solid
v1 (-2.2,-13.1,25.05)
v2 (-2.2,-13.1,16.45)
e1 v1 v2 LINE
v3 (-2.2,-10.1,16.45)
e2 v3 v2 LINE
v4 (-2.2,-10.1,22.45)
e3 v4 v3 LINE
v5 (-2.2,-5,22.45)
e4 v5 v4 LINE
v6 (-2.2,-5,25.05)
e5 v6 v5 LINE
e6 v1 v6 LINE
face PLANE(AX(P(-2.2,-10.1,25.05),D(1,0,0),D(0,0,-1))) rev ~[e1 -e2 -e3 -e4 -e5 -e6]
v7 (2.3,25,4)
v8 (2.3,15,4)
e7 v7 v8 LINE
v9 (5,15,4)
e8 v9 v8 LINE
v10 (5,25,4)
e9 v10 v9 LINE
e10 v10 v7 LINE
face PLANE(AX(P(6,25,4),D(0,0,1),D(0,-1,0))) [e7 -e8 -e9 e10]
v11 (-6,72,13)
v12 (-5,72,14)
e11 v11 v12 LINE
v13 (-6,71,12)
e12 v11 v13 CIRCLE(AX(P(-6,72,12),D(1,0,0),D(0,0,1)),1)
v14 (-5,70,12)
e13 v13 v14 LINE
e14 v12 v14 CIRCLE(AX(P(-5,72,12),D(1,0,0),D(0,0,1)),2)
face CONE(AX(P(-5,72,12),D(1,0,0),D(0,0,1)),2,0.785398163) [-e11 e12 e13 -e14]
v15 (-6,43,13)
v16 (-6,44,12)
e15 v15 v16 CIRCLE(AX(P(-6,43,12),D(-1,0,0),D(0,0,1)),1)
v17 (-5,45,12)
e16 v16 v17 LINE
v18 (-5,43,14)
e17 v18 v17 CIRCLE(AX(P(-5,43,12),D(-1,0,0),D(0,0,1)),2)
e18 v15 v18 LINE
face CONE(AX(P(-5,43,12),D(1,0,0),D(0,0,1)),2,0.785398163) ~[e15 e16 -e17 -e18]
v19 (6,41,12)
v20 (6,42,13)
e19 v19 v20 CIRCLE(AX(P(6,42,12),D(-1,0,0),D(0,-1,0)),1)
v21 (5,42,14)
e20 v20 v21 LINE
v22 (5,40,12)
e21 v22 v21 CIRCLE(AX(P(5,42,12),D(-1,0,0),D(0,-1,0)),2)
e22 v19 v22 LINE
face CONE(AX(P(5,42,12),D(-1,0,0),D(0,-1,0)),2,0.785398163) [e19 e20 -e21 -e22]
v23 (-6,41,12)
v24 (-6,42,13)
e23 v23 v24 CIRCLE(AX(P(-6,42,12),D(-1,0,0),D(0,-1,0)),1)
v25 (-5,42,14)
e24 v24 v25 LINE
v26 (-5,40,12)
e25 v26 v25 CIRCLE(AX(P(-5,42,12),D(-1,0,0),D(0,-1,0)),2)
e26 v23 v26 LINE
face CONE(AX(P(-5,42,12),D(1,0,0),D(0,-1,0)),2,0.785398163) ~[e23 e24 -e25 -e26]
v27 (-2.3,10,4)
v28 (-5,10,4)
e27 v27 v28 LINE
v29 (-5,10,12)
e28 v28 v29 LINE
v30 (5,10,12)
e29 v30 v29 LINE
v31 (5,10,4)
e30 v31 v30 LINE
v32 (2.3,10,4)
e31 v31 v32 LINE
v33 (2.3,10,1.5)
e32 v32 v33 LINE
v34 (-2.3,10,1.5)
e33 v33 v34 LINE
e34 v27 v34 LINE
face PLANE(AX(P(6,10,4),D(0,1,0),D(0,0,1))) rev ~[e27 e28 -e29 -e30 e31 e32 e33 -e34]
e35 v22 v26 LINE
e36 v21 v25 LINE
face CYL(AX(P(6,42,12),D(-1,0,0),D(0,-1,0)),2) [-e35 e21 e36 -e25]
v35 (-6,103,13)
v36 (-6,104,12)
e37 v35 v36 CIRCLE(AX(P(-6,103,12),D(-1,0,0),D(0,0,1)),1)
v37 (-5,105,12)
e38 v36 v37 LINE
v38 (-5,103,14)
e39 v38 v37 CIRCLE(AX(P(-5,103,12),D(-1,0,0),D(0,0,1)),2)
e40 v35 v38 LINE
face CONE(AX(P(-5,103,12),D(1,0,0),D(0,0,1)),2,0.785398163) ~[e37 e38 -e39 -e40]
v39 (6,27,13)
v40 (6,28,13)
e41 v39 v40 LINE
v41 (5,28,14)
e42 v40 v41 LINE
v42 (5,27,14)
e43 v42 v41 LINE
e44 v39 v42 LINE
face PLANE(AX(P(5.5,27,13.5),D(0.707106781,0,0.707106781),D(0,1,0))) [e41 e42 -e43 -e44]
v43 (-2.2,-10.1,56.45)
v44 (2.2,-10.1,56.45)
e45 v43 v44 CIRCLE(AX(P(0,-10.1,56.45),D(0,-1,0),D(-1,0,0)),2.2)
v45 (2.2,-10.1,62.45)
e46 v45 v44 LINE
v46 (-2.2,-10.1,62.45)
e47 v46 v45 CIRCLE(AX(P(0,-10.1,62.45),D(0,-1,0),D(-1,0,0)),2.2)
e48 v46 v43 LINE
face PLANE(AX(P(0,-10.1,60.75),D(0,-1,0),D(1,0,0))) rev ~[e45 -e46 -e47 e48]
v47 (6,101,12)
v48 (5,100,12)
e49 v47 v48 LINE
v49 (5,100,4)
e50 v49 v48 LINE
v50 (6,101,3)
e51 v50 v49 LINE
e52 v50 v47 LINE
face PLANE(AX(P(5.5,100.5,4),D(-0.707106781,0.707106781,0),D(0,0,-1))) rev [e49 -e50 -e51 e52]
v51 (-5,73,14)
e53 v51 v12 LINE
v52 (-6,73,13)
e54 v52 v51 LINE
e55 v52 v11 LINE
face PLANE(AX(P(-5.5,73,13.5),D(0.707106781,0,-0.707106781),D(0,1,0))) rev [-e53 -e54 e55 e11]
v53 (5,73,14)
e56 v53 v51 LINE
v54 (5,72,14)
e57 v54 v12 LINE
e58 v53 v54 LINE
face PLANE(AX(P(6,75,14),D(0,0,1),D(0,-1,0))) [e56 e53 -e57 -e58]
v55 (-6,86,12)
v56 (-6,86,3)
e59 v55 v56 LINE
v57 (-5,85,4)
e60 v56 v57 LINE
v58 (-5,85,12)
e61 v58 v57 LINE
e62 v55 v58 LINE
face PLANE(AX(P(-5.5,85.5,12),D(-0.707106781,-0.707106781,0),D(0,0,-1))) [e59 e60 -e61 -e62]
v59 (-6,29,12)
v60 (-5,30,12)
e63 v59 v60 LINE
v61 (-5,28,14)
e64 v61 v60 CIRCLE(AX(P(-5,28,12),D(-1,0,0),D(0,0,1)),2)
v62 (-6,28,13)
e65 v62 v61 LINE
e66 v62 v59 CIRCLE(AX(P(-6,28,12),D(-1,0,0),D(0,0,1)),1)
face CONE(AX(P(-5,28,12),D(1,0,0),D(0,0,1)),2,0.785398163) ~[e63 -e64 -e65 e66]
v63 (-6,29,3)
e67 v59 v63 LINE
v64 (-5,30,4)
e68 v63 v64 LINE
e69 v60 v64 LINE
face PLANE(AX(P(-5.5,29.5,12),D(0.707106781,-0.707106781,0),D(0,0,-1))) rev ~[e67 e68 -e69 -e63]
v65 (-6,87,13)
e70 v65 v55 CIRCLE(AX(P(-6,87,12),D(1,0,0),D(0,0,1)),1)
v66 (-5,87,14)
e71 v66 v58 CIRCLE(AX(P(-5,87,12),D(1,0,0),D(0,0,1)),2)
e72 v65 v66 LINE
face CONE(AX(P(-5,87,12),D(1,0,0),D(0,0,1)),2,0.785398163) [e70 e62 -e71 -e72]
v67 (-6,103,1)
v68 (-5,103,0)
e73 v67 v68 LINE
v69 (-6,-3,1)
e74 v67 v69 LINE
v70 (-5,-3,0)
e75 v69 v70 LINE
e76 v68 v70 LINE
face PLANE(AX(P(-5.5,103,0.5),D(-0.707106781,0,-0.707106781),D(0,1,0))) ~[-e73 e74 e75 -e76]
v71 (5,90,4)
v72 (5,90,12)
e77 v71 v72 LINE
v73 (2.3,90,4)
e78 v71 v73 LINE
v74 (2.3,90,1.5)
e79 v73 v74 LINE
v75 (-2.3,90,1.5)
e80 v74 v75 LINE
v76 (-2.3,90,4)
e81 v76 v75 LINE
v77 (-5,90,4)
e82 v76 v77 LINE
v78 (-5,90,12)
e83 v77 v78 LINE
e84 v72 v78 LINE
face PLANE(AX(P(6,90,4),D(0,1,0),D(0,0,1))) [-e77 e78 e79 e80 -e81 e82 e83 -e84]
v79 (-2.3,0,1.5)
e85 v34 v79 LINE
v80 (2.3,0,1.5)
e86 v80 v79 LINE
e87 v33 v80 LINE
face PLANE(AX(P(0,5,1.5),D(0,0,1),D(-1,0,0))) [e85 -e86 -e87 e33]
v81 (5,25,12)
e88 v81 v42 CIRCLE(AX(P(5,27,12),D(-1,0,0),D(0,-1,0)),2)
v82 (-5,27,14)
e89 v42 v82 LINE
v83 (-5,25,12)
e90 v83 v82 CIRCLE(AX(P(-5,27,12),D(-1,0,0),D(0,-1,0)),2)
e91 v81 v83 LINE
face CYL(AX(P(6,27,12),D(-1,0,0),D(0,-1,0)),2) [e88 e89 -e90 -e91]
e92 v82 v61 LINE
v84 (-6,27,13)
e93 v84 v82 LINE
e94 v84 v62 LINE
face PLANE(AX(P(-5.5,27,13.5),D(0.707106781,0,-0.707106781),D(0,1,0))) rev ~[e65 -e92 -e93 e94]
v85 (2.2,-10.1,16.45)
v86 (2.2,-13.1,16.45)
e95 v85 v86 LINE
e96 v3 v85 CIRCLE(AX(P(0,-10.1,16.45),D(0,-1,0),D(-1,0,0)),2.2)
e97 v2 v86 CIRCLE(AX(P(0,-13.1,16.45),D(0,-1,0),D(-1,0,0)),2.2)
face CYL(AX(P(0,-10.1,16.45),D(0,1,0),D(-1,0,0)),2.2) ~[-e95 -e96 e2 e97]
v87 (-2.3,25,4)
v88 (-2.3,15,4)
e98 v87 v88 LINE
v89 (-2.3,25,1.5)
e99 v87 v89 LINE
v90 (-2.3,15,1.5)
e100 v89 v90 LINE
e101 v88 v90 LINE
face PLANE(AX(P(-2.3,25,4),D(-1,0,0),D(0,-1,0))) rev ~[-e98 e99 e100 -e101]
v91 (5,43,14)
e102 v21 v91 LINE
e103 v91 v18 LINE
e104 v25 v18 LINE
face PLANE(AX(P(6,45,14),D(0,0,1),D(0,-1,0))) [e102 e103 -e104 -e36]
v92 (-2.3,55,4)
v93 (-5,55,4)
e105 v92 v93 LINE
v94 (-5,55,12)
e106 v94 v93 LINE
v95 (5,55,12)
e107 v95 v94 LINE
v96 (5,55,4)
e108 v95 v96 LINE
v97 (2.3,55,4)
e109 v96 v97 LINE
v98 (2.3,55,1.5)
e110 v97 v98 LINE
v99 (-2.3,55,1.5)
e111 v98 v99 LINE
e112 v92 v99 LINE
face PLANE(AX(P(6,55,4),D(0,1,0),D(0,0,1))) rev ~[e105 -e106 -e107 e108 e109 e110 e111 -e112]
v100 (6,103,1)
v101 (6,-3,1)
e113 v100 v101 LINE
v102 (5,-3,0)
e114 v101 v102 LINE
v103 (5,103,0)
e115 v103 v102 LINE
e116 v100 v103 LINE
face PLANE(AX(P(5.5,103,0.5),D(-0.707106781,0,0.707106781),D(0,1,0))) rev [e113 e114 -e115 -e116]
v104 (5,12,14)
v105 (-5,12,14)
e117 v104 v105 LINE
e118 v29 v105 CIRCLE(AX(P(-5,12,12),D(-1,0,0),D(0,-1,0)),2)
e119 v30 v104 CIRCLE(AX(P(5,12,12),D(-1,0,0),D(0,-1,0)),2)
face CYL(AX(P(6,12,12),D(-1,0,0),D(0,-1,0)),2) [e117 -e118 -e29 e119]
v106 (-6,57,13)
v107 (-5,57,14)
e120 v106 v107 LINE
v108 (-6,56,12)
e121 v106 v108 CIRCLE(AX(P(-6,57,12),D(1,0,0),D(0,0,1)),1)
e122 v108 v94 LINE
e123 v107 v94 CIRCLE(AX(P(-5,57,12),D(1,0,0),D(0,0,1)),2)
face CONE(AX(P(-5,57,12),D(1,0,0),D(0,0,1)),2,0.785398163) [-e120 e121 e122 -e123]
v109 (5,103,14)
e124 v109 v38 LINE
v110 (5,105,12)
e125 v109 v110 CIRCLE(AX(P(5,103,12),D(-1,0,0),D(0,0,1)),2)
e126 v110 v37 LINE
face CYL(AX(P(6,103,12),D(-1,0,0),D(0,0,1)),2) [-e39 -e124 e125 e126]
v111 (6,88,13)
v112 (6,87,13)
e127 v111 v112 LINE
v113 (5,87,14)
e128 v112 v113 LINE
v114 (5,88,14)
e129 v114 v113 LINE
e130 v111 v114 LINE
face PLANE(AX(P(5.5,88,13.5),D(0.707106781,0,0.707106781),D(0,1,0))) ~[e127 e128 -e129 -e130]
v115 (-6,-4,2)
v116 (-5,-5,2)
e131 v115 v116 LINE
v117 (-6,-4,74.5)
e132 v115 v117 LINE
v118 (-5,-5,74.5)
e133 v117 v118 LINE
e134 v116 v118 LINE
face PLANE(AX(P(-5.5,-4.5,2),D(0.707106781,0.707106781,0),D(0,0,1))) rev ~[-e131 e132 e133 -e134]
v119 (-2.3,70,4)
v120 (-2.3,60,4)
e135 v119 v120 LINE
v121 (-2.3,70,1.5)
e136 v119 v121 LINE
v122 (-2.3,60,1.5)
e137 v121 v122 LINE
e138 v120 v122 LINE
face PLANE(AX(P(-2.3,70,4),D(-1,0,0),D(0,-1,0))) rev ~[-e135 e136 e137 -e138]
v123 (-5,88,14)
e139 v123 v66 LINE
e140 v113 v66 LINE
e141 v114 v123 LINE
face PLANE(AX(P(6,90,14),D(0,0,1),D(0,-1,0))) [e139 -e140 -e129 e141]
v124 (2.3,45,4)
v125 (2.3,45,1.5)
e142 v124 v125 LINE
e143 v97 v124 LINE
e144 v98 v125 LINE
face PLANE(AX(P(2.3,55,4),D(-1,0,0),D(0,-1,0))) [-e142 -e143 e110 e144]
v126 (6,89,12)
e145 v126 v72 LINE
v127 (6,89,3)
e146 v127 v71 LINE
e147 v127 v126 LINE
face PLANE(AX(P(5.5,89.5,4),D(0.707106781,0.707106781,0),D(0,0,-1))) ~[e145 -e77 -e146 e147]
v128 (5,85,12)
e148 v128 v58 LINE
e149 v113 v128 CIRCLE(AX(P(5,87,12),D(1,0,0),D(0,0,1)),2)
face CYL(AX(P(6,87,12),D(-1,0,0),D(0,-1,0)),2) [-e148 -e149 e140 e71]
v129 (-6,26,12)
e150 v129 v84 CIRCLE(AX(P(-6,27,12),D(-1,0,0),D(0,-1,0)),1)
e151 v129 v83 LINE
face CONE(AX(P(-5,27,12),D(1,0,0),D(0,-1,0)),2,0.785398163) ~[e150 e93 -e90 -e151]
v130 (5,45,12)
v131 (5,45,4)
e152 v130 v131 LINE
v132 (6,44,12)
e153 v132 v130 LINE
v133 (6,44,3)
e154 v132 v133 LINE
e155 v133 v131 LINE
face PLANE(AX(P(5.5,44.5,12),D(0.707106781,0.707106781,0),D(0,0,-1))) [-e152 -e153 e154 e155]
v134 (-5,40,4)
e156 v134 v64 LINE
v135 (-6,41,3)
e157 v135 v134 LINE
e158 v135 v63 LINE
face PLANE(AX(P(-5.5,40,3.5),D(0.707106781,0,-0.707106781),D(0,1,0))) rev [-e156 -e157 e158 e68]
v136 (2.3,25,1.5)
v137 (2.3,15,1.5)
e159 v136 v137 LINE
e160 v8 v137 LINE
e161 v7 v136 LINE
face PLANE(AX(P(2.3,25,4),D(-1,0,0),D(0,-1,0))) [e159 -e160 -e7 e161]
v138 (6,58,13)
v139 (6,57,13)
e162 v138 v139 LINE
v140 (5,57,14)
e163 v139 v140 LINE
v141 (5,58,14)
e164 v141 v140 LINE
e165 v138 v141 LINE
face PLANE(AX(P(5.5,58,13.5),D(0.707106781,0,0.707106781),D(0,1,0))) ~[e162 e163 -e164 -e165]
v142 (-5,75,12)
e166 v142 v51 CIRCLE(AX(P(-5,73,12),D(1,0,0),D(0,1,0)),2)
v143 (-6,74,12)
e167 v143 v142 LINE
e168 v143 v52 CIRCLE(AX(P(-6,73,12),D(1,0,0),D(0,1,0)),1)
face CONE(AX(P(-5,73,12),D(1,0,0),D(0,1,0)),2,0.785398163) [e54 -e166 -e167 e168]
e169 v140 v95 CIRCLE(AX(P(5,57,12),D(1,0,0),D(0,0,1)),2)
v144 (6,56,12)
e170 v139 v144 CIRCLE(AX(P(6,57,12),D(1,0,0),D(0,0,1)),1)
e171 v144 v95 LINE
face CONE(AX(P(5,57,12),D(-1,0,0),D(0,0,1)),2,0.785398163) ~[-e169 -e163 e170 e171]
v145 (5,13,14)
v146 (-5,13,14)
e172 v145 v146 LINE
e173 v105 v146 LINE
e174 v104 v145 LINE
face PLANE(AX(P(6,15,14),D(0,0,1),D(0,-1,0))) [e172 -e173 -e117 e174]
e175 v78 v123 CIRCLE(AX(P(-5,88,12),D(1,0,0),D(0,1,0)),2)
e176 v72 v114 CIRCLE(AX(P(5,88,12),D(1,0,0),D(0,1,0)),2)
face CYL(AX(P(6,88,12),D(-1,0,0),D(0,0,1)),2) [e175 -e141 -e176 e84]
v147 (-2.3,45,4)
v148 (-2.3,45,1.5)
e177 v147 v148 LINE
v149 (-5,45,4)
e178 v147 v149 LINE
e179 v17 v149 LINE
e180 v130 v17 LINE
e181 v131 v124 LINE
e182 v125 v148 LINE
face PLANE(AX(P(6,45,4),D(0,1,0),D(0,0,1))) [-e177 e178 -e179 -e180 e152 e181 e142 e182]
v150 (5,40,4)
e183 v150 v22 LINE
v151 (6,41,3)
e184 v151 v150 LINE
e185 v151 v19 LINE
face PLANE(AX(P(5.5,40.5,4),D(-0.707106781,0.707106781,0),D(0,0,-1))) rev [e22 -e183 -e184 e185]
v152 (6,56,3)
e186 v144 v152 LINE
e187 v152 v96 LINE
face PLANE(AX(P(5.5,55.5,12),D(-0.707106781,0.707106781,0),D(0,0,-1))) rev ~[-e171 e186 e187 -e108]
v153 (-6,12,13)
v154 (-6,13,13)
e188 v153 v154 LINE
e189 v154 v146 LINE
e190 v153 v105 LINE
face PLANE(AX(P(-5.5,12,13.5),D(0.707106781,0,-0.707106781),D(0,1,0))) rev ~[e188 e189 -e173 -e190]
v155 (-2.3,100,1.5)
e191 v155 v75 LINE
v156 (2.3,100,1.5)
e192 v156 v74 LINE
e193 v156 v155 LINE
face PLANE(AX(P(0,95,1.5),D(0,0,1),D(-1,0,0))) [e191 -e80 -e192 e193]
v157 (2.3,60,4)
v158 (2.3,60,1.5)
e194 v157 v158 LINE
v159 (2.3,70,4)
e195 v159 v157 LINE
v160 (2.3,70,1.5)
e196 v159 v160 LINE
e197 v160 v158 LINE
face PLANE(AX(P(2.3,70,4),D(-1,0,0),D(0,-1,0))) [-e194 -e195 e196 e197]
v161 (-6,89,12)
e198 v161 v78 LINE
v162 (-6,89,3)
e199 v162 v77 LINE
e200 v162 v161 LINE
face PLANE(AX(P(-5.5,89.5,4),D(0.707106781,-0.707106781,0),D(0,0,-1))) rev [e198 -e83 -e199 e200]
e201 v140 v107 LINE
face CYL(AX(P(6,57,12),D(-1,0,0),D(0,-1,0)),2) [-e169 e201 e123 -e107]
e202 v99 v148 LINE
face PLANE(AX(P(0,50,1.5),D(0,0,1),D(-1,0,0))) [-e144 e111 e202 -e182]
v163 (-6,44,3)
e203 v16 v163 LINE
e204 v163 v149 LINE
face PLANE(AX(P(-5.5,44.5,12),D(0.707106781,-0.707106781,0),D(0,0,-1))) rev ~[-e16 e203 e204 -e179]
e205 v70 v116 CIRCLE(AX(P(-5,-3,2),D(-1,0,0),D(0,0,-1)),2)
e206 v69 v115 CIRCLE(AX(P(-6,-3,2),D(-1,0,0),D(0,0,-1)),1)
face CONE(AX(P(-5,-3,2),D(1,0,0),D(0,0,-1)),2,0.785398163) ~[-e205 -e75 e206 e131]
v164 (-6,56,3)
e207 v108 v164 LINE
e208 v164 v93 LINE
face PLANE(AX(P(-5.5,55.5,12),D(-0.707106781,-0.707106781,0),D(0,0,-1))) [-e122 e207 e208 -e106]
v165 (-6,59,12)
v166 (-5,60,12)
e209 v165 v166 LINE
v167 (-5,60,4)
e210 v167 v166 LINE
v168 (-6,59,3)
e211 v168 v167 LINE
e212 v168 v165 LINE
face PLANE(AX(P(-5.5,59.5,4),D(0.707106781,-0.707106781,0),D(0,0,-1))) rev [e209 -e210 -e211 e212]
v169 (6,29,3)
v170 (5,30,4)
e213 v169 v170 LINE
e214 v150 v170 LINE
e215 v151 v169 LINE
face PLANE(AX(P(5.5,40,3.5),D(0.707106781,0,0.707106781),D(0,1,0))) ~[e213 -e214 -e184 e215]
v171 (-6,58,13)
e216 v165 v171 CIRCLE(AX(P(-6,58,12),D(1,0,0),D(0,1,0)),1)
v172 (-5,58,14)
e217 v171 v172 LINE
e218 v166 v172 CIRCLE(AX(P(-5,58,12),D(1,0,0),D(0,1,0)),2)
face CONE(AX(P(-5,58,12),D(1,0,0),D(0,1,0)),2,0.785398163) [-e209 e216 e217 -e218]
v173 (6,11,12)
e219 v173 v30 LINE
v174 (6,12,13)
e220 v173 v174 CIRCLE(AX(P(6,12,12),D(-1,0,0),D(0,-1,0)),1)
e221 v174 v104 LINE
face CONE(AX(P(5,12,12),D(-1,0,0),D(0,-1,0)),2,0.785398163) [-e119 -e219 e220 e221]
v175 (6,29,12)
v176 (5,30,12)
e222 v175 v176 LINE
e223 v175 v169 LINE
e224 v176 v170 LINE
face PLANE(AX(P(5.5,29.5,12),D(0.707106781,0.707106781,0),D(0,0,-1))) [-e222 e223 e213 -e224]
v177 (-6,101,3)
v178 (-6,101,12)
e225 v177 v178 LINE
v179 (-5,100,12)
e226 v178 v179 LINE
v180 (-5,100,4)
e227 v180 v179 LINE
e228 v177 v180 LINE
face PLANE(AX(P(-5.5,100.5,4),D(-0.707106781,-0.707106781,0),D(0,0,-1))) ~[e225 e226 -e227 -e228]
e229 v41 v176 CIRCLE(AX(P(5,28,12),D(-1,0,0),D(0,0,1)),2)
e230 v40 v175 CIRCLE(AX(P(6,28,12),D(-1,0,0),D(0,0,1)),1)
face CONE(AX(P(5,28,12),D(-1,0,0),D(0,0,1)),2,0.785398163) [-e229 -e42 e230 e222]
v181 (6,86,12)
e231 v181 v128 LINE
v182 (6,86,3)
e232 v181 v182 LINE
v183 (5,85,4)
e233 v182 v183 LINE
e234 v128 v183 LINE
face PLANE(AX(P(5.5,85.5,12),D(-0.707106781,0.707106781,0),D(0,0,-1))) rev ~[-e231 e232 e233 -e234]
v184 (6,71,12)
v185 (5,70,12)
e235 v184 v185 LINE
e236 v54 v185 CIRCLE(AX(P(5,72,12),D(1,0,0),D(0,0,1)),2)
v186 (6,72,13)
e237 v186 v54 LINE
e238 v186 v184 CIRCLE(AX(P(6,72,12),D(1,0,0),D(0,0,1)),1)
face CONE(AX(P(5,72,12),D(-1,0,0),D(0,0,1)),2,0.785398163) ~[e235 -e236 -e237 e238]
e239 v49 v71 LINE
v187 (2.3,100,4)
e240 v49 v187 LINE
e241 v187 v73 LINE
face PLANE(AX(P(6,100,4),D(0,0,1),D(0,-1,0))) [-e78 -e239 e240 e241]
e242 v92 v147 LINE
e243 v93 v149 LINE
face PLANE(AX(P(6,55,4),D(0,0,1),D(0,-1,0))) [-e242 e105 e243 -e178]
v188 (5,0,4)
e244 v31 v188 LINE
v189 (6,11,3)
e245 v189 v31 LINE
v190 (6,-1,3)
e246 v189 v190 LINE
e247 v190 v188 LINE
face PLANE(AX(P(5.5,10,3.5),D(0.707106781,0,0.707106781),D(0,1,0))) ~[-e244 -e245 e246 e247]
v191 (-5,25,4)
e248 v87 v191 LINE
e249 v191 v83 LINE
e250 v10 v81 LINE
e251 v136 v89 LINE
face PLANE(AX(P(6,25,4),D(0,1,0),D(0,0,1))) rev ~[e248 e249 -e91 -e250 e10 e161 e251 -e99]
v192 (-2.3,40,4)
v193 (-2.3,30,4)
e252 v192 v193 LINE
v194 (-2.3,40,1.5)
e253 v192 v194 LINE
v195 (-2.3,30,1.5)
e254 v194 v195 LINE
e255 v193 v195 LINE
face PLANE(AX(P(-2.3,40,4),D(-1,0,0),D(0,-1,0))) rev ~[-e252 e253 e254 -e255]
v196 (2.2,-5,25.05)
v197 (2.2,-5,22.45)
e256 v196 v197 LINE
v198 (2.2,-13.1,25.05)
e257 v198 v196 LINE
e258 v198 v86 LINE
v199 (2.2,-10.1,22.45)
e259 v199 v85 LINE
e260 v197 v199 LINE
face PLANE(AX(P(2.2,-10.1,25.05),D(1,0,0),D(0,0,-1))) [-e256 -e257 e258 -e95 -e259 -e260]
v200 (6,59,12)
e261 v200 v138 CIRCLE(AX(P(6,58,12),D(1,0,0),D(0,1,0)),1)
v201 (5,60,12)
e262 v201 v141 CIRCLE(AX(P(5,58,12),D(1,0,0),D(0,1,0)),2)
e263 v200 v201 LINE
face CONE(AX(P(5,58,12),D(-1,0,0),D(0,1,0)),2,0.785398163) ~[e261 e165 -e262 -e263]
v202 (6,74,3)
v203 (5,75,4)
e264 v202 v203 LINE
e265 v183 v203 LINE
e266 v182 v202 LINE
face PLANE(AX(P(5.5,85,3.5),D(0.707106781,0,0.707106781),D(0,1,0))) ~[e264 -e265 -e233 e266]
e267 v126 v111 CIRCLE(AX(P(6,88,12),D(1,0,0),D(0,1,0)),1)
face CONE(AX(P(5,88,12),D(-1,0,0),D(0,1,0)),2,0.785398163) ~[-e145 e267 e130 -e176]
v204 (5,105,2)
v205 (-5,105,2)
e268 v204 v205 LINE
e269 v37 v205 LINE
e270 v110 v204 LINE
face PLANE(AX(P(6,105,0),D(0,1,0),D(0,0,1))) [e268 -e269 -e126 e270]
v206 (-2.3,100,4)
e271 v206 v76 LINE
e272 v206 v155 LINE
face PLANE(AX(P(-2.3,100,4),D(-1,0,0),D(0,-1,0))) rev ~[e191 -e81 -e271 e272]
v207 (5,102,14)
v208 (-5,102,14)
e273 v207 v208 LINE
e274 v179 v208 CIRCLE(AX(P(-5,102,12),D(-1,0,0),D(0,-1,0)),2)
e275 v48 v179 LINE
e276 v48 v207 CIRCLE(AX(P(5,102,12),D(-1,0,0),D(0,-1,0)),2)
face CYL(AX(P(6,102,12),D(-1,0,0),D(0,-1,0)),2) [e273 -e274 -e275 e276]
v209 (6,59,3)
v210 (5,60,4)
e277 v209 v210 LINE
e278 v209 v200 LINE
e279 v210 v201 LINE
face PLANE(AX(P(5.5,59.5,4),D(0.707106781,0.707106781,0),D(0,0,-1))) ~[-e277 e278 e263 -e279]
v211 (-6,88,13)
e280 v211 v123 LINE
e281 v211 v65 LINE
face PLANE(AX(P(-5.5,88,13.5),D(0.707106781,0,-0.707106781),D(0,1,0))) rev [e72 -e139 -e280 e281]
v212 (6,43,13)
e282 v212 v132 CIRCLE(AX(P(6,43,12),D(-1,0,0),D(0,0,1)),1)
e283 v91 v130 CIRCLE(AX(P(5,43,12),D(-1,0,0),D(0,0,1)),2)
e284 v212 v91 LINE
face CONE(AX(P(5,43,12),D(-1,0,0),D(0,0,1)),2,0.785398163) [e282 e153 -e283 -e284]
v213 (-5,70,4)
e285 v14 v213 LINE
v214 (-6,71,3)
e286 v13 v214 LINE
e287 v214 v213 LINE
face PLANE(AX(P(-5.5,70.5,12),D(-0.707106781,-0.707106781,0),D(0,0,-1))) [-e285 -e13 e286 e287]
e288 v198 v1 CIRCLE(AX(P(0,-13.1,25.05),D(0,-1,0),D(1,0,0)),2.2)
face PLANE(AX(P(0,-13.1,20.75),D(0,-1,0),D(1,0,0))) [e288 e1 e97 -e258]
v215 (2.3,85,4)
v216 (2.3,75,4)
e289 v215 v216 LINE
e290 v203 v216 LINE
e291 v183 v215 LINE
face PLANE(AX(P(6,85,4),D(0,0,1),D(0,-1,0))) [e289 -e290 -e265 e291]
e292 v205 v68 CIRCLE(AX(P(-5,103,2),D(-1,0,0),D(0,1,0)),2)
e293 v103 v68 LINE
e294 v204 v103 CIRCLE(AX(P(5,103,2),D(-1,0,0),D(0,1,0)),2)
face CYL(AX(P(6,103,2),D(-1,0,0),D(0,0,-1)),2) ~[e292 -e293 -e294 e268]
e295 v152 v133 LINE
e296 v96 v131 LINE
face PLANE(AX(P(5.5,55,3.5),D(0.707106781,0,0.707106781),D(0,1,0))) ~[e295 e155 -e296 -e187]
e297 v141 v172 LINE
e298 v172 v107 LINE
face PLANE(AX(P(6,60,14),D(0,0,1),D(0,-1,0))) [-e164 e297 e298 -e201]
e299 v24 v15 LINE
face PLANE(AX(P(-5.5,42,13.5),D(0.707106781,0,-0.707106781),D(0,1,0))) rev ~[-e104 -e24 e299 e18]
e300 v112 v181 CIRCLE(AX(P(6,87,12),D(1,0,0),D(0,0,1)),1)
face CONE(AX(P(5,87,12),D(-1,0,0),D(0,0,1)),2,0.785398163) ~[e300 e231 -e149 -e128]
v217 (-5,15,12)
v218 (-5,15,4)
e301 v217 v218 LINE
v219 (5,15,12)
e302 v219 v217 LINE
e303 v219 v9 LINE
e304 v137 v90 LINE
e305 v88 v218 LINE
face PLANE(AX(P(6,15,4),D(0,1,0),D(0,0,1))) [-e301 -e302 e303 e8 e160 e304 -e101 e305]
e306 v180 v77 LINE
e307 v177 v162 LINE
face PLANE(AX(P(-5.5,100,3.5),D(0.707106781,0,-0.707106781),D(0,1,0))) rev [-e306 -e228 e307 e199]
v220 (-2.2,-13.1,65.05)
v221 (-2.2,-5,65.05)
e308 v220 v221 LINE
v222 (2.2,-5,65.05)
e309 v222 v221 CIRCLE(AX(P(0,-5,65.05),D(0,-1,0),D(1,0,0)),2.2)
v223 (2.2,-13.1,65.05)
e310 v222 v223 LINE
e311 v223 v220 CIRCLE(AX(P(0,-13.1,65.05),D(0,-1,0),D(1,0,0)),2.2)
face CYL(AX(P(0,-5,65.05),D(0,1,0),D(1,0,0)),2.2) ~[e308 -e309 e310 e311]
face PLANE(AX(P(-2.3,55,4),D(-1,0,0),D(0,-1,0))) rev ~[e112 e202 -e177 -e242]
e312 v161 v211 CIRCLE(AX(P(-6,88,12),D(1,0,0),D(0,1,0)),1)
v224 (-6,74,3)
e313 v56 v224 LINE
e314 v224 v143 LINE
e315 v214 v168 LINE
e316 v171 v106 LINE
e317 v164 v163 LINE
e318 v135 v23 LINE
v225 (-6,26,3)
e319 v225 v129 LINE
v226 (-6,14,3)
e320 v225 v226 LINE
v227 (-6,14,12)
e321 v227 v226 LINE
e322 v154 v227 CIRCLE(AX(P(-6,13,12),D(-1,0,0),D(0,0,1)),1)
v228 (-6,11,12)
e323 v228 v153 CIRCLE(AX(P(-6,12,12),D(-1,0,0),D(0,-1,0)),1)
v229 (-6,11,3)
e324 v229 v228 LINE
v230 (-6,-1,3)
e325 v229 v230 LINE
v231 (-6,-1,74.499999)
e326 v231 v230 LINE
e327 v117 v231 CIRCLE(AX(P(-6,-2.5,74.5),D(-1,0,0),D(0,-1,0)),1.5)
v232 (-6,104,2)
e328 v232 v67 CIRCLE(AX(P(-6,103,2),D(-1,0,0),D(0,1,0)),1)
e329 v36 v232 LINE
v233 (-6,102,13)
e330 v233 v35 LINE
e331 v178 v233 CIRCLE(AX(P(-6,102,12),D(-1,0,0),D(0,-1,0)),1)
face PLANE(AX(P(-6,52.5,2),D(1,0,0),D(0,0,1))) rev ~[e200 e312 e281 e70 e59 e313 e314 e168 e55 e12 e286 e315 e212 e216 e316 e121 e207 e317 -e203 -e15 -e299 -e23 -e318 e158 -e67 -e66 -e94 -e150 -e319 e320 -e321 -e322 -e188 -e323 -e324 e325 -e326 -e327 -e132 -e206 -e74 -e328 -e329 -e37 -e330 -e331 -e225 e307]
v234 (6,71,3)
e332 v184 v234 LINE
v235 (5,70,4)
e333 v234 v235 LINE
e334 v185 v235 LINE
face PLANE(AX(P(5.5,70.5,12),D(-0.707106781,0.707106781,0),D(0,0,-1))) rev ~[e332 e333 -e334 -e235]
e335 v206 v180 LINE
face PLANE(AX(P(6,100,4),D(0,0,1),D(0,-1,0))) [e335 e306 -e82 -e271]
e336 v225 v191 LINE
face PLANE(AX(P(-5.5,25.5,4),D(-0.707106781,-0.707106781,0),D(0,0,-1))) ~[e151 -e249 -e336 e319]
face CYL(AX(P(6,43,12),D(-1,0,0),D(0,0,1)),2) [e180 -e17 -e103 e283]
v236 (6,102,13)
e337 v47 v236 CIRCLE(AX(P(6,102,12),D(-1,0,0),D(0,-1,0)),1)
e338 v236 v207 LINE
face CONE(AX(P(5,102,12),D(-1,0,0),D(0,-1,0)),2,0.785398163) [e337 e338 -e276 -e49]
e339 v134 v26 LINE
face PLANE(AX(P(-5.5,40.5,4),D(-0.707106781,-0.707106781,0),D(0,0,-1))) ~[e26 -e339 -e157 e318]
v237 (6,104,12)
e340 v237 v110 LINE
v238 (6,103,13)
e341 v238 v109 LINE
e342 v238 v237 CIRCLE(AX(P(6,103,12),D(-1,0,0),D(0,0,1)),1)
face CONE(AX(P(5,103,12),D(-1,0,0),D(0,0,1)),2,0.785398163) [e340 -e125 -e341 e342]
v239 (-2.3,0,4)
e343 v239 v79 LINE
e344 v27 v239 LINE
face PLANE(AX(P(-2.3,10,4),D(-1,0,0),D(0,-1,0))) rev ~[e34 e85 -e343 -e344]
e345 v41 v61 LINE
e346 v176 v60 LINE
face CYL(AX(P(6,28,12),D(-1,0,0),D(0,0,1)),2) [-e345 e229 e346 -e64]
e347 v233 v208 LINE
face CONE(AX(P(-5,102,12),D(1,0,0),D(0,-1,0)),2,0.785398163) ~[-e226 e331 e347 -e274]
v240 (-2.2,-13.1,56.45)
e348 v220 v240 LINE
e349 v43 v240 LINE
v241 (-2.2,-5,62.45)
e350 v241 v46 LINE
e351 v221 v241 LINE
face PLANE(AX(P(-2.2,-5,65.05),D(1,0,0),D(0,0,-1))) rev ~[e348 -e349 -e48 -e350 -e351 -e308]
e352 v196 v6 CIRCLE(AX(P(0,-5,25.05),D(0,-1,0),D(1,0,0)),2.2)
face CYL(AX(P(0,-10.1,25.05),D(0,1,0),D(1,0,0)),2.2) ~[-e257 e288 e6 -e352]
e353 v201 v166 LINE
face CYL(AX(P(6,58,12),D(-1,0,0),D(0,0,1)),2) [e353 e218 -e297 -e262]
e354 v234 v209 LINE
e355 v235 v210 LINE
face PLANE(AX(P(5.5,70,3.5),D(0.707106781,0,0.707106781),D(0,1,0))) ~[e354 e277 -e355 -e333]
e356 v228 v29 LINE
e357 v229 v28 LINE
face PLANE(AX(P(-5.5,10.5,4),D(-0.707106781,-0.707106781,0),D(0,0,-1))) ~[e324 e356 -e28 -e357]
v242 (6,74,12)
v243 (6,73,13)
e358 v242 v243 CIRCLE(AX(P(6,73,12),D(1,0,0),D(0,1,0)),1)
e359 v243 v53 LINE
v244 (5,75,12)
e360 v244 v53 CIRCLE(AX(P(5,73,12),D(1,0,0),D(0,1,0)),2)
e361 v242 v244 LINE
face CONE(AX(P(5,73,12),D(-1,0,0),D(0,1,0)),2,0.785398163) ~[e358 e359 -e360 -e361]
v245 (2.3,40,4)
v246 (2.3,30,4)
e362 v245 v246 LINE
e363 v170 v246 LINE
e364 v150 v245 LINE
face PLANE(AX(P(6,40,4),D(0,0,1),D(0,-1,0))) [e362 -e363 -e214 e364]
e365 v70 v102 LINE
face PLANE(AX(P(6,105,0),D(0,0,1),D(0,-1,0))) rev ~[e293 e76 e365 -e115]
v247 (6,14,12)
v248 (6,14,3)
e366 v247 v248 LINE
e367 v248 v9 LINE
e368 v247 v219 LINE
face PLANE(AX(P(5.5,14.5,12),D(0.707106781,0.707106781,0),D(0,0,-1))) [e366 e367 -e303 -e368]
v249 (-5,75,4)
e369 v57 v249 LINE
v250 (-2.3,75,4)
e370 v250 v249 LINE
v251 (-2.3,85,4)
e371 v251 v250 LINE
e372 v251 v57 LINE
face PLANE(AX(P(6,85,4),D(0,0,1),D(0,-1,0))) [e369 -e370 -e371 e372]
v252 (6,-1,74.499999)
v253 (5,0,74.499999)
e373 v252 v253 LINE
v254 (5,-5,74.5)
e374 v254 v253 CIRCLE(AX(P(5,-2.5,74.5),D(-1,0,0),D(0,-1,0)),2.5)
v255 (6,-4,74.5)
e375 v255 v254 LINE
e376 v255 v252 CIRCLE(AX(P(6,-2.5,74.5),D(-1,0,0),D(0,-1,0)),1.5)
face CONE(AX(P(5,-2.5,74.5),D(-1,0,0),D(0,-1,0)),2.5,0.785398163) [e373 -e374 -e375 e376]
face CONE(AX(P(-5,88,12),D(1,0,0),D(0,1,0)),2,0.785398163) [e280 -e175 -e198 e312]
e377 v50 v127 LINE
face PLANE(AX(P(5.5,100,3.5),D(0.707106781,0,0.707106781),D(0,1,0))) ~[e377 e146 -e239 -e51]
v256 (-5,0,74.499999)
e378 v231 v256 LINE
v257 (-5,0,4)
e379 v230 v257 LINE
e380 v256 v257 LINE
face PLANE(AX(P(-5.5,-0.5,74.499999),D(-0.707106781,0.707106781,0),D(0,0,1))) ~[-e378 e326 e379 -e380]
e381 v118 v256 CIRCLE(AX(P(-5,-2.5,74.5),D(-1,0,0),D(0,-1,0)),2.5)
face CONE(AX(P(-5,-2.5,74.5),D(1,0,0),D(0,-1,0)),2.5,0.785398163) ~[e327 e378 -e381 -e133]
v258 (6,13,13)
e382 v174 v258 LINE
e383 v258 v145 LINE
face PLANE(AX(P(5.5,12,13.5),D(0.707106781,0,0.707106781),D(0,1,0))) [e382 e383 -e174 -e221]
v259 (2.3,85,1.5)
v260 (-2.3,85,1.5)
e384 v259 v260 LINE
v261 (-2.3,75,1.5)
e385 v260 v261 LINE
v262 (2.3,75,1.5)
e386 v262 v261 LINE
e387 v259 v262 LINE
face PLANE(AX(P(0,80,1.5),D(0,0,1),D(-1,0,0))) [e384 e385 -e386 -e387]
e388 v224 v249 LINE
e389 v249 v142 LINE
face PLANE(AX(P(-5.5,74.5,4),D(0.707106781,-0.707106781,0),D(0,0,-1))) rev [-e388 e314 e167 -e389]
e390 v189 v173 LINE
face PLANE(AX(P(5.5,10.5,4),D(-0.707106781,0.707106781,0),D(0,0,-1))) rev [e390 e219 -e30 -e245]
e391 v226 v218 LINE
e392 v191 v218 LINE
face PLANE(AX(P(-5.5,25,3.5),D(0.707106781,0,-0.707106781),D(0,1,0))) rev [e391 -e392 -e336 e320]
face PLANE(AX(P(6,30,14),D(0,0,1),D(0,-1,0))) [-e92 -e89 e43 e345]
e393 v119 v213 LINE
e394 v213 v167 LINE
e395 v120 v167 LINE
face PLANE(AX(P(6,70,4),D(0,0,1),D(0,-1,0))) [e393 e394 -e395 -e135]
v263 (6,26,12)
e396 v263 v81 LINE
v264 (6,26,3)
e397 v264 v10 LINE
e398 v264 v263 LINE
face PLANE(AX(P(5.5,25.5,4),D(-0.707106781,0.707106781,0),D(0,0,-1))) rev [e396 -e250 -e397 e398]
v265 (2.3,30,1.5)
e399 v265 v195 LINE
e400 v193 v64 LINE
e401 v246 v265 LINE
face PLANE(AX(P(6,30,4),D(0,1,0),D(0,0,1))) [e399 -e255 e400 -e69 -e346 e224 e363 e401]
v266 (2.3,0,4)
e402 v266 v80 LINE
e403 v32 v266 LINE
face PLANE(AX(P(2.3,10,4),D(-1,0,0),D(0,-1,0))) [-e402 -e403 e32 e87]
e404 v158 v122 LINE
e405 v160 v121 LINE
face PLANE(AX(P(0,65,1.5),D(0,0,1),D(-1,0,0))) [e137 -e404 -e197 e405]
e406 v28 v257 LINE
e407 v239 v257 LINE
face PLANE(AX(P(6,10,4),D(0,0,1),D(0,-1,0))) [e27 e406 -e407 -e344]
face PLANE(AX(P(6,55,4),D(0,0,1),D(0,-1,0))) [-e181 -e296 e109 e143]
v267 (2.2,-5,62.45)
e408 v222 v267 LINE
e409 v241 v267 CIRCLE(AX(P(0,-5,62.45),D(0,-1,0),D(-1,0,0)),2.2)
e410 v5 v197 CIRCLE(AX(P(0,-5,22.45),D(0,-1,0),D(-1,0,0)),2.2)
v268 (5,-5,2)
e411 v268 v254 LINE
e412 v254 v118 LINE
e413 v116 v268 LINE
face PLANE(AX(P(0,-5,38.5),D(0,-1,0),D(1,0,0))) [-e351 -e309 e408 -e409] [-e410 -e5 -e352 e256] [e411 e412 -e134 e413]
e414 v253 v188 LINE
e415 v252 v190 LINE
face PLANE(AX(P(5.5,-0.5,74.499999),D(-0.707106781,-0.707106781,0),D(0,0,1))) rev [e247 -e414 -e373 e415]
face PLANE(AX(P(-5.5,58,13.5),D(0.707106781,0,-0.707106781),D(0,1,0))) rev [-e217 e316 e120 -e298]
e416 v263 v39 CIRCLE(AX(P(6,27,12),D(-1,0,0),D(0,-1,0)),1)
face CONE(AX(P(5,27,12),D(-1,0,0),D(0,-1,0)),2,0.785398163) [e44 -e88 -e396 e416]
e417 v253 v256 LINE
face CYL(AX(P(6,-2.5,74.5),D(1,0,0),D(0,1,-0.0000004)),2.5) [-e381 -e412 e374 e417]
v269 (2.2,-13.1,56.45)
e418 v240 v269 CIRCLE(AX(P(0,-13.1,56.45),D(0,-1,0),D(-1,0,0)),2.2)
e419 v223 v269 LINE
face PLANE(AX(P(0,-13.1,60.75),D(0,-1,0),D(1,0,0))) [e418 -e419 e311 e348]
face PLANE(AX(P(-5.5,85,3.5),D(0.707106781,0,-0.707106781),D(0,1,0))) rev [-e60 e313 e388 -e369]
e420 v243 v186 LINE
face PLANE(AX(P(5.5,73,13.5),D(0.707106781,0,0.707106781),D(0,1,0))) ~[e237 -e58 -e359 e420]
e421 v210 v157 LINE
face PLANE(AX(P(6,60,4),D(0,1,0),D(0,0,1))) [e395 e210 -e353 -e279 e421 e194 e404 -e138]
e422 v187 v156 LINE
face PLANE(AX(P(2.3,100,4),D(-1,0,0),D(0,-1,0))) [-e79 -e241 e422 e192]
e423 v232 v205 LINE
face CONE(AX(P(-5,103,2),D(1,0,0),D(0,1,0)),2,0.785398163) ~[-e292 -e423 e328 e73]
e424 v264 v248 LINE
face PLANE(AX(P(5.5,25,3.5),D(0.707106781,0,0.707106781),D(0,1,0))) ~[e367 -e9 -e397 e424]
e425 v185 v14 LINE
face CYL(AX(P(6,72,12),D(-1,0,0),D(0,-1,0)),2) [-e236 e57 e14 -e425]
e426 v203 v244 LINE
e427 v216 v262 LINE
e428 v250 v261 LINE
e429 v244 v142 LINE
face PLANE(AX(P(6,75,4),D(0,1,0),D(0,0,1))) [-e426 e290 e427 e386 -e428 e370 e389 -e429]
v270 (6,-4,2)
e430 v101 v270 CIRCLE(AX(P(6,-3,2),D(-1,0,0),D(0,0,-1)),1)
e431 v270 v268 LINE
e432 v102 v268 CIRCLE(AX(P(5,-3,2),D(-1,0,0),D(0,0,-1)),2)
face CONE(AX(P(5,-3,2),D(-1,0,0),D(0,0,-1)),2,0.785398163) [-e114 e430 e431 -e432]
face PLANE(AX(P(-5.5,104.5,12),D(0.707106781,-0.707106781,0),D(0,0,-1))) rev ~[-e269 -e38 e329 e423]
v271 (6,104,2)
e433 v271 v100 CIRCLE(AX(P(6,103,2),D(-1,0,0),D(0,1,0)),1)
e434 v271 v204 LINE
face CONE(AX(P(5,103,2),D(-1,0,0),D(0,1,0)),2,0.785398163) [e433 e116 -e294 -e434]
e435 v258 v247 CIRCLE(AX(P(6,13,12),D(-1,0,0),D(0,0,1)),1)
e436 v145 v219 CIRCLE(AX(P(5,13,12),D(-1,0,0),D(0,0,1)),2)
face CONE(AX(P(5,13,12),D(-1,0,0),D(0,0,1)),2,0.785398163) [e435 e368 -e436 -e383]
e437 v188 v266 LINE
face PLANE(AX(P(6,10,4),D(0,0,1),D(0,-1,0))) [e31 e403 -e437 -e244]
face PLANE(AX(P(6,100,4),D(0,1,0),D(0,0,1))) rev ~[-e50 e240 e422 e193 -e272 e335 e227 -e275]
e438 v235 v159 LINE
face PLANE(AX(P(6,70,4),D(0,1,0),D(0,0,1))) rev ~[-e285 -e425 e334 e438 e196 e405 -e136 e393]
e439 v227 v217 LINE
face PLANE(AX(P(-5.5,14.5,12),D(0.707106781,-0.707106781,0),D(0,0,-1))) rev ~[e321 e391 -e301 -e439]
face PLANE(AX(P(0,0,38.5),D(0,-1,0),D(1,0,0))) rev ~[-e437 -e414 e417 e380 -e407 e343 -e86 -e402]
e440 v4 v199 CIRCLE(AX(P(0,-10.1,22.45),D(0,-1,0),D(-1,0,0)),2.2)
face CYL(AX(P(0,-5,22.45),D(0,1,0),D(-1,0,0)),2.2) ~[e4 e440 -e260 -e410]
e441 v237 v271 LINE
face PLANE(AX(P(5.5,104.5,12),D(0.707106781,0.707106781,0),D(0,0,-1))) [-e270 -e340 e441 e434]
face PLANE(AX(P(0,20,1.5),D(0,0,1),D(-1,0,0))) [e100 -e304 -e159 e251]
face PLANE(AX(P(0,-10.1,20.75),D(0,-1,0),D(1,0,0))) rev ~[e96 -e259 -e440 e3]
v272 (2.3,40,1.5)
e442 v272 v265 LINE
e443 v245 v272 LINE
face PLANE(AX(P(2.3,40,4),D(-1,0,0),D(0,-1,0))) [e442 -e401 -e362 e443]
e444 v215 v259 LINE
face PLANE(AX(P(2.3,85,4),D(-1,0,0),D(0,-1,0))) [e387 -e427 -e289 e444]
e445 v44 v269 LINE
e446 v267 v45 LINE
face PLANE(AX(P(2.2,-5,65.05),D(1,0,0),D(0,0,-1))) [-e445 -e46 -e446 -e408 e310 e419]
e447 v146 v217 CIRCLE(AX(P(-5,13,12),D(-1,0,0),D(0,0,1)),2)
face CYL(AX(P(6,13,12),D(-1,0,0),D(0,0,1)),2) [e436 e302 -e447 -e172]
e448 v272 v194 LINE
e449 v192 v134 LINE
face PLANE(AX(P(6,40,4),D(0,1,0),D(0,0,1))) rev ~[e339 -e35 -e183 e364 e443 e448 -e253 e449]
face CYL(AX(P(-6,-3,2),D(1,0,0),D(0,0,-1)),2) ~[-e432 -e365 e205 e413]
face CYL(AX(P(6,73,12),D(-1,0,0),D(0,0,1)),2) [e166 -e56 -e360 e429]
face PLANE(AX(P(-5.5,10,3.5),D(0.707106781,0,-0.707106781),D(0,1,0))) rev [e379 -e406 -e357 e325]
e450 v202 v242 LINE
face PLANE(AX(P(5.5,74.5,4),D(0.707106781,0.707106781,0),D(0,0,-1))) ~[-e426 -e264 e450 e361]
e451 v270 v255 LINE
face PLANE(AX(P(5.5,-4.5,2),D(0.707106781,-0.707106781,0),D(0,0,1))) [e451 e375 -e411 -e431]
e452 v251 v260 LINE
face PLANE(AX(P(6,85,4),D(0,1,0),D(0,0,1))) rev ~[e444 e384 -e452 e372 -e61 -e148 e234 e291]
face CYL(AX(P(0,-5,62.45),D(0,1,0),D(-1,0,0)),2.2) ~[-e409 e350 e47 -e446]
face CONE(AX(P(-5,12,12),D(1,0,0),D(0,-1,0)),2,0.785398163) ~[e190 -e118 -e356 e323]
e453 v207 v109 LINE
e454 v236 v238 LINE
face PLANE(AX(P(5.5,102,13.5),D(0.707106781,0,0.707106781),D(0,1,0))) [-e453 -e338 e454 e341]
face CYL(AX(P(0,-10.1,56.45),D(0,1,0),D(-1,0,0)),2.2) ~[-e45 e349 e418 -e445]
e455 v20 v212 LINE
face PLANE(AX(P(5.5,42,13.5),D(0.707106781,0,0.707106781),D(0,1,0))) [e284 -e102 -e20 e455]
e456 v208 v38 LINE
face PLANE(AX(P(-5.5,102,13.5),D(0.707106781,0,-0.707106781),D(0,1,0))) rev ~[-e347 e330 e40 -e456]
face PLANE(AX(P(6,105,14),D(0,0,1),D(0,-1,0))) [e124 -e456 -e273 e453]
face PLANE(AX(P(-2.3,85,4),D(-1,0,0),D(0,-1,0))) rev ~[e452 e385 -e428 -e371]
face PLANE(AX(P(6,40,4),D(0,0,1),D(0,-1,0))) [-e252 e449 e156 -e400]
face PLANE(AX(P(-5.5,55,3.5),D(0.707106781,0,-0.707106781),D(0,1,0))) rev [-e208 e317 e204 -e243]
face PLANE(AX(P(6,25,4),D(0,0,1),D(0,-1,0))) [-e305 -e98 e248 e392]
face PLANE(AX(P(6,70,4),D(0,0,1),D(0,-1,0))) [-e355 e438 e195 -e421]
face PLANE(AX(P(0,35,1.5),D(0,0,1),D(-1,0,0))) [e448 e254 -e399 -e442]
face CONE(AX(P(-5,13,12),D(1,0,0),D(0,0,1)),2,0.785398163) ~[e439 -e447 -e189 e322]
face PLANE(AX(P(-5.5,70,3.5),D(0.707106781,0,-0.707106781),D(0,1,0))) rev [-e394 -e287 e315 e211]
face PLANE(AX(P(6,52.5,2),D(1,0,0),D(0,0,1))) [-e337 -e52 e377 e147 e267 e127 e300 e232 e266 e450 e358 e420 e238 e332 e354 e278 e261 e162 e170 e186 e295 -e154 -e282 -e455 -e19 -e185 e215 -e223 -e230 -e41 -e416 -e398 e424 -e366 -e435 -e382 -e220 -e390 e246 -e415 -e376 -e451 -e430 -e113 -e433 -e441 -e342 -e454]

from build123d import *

# Parameters (mm, degrees)
SKETCH_W        = 12
SKETCH_H        = 77
PAD_DEPTH       = 5
PAD001_DEPTH    = 5.1
PAD002_DEPTH    = 3
SKETCH003_W     = 4
SKETCH003_H     = 105
SKETCH003_W_2   = 10
SKETCH003_H_2   = 5
PAD003_DEPTH    = 12
SKETCH004_W     = 4.6
SKETCH004_H     = 10
POCKET_DEPTH    = 2.5
POCKET001_DEPTH = 12.001
FILLET_R        = 2
CHAMFER_SIZE    = 1


with BuildPart() as part:
    # Sketch → Pad (new body)
    with BuildSketch(Plane.XZ):
        with Locations((0, 38.5)):
            Rectangle(SKETCH_W, SKETCH_H)
    extrude(amount=PAD_DEPTH)

    # Sketch001 (on Face6 of Pad) → Pad001 (join)
    with BuildSketch(Plane.XZ.offset(5)):
        with BuildLine():
            Line((-2.2, 25.05), (-2.2, 22.45))
            ThreePointArc((-2.2, 22.45), (0, 20.25), (2.2, 22.45))
            Line((2.2, 25.05), (2.2, 22.45))
            ThreePointArc((2.2, 25.05), (0, 27.25), (-2.2, 25.05))
        make_face()
        with BuildLine():
            Line((-2.2, 65.05), (-2.2, 62.45))
            ThreePointArc((-2.2, 62.45), (0, 60.25), (2.2, 62.45))
            Line((2.2, 65.05), (2.2, 62.45))
            ThreePointArc((2.2, 65.05), (0, 67.25), (-2.2, 65.05))
        make_face()
    extrude(amount=PAD001_DEPTH)

    # Sketch002 (on Face16 of Pad001) → Pad002 (join)
    with BuildSketch(Plane.XZ.offset(10.1)):
        with BuildLine():
            Line((-2.2, 25.05), (-2.2, 16.45))
            ThreePointArc((-2.2, 16.45), (0, 14.25), (2.2, 16.45))
            Line((2.2, 25.05), (2.2, 16.45))
            ThreePointArc((2.2, 25.05), (0, 27.25), (-2.2, 25.05))
        make_face()
        with BuildLine():
            Line((-2.2, 65.05), (-2.2, 56.45))
            ThreePointArc((-2.2, 56.45), (0, 54.25), (2.2, 56.45))
            Line((2.2, 65.05), (2.2, 56.45))
            ThreePointArc((2.2, 65.05), (0, 67.25), (-2.2, 65.05))
        make_face()
    extrude(amount=PAD002_DEPTH)

    # Sketch003 (on Face6 of Pad002) → Pad003 (join)
    with BuildSketch(Plane(origin=(6, 0, 0), x_dir=(0, 0, 1), z_dir=(1, 0, 0))):
        with Locations((2, -52.5)):
            Rectangle(SKETCH003_W, SKETCH003_H)
        with Locations((9, -12.5)):
            Rectangle(SKETCH003_W_2, SKETCH003_H_2)
        with Locations((9, -27.5)):
            Rectangle(SKETCH003_W_2, SKETCH003_H_2)
        with Locations((9, -42.5)):
            Rectangle(SKETCH003_W_2, SKETCH003_H_2)
        with Locations((9, -57.5)):
            Rectangle(SKETCH003_W_2, SKETCH003_H_2)
        with Locations((9, -72.5)):
            Rectangle(SKETCH003_W_2, SKETCH003_H_2)
        with Locations((9, -87.5)):
            Rectangle(SKETCH003_W_2, SKETCH003_H_2)
        with Locations((9, -102.5)):
            Rectangle(SKETCH003_W_2, SKETCH003_H_2)
    extrude(amount=-PAD003_DEPTH)

    # Sketch004 (on Face30 of Pad003) → Pocket (cut)
    with BuildSketch(Plane(origin=(0, 0, 4), x_dir=(-1, 0, 0), z_dir=(0, 0, 1))):
        with Locations((0, -5)):
            Rectangle(SKETCH004_W, SKETCH004_H)
        with Locations((0, -20)):
            Rectangle(SKETCH004_W, SKETCH004_H)
        with Locations((0, -35)):
            Rectangle(SKETCH004_W, SKETCH004_H)
        with Locations((0, -50)):
            Rectangle(SKETCH004_W, SKETCH004_H)
        with Locations((0, -65)):
            Rectangle(SKETCH004_W, SKETCH004_H)
        with Locations((0, -80)):
            Rectangle(SKETCH004_W, SKETCH004_H)
        with Locations((0, -95)):
            Rectangle(SKETCH004_W, SKETCH004_H)
    extrude(amount=-POCKET_DEPTH, mode=Mode.SUBTRACT)

    # Sketch005 (on Face5 of Pocket) → Pocket001 (cut, through all)
    with BuildSketch(Plane(origin=(6, 0, 0), x_dir=(0, 0, 1), z_dir=(1, 0, 0))):
        with BuildLine():
            ThreePointArc((74.499999, 0), (77, 2.5), (74.5, 5))
            Line((74.5, 5), (77.1, 5))
            Line((77.1, 5), (77.099999, 0))
            Line((74.499999, 0), (77.099999, 0))
        make_face()
    extrude(amount=-POCKET001_DEPTH, mode=Mode.SUBTRACT)

    # Fillet
    fillet_edges = [part.edges().sort_by_distance(p)[0] for p in [
        (0, 105, 0),
        (0, -5, 0),
        (0, 105, 14),
        (0, 100, 14),
        (0, 90, 14),
        (0, 85, 14),
        (0, 75, 14),
        (0, 70, 14),
        (0, 60, 14),
        (0, 55, 14),
        (0, 45, 14),
        (0, 40, 14),
        (0, 30, 14),
        (0, 25, 14),
        (0, 15, 14),
        (0, 10, 14),
    ]]
    fillet(fillet_edges, radius=FILLET_R)

    # Chamfer
    chamfer_edges = [part.edges().sort_by_distance(p)[0] for p in [
        (6, -5, 38.25),
        (6, -4.414214, 0.585786),
        (6, -4.267767, 76.267767),
        (6, 50, 0),
        (6, -0.732233, 76.267767),
        (6, 104.414214, 0.585786),
        (6, 0, 39.25),
        (6, 105, 7),
        (6, 5, 4),
        (6, 104.414214, 13.414214),
        (6, 10, 8),
        (6, 102.5, 14),
        (6, 10.585786, 13.414214),
        (6, 100.585786, 13.414214),
        (6, 12.5, 14),
        (6, 100, 8),
        (6, 14.414214, 13.414214),
        (6, 95, 4),
        (6, 15, 8),
        (6, 90, 8),
        (6, 20, 4),
        (6, 89.414214, 13.414214),
        (6, 25, 8),
        (6, 87.5, 14),
        (6, 25.585786, 13.414214),
        (6, 85.585786, 13.414214),
        (6, 27.5, 14),
        (6, 85, 8),
        (6, 29.414214, 13.414214),
        (6, 80, 4),
        (6, 30, 8),
        (6, 75, 8),
        (6, 35, 4),
        (6, 74.414214, 13.414214),
        (6, 40, 8),
        (6, 72.5, 14),
        (6, 40.585786, 13.414214),
        (6, 70.585786, 13.414214),
        (6, 42.5, 14),
        (6, 70, 8),
        (6, 44.414214, 13.414214),
        (6, 65, 4),
        (6, 45, 8),
        (6, 60, 8),
        (6, 50, 4),
        (6, 59.414214, 13.414214),
        (6, 55, 8),
        (6, 57.5, 14),
        (6, 55.585786, 13.414214),
        (-6, -5, 38.25),
        (-6, -4.414214, 0.585786),
        (-6, -4.267767, 76.267767),
        (-6, 50, 0),
        (-6, -0.732233, 76.267767),
        (-6, 104.414214, 0.585786),
        (-6, 0, 39.25),
        (-6, 105, 7),
        (-6, 5, 4),
        (-6, 104.414214, 13.414214),
        (-6, 10, 8),
        (-6, 102.5, 14),
        (-6, 10.585786, 13.414214),
        (-6, 100.585786, 13.414214),
        (-6, 12.5, 14),
        (-6, 100, 8),
        (-6, 14.414214, 13.414214),
        (-6, 95, 4),
        (-6, 15, 8),
        (-6, 90, 8),
        (-6, 20, 4),
        (-6, 89.414214, 13.414214),
        (-6, 25, 8),
        (-6, 87.5, 14),
        (-6, 25.585786, 13.414214),
        (-6, 85.585786, 13.414214),
        (-6, 27.5, 14),
        (-6, 85, 8),
        (-6, 29.414214, 13.414214),
        (-6, 80, 4),
        (-6, 30, 8),
        (-6, 75, 8),
        (-6, 35, 4),
        (-6, 74.414214, 13.414214),
        (-6, 40, 8),
        (-6, 72.5, 14),
        (-6, 40.585786, 13.414214),
        (-6, 70.585786, 13.414214),
        (-6, 42.5, 14),
        (-6, 70, 8),
        (-6, 44.414214, 13.414214),
        (-6, 65, 4),
        (-6, 45, 8),
        (-6, 60, 8),
        (-6, 50, 4),
        (-6, 59.414214, 13.414214),
        (-6, 55, 8),
        (-6, 57.5, 14),
        (-6, 55.585786, 13.414214),
    ]]
    chamfer(chamfer_edges, length=CHAMFER_SIZE)


solid = part.part
